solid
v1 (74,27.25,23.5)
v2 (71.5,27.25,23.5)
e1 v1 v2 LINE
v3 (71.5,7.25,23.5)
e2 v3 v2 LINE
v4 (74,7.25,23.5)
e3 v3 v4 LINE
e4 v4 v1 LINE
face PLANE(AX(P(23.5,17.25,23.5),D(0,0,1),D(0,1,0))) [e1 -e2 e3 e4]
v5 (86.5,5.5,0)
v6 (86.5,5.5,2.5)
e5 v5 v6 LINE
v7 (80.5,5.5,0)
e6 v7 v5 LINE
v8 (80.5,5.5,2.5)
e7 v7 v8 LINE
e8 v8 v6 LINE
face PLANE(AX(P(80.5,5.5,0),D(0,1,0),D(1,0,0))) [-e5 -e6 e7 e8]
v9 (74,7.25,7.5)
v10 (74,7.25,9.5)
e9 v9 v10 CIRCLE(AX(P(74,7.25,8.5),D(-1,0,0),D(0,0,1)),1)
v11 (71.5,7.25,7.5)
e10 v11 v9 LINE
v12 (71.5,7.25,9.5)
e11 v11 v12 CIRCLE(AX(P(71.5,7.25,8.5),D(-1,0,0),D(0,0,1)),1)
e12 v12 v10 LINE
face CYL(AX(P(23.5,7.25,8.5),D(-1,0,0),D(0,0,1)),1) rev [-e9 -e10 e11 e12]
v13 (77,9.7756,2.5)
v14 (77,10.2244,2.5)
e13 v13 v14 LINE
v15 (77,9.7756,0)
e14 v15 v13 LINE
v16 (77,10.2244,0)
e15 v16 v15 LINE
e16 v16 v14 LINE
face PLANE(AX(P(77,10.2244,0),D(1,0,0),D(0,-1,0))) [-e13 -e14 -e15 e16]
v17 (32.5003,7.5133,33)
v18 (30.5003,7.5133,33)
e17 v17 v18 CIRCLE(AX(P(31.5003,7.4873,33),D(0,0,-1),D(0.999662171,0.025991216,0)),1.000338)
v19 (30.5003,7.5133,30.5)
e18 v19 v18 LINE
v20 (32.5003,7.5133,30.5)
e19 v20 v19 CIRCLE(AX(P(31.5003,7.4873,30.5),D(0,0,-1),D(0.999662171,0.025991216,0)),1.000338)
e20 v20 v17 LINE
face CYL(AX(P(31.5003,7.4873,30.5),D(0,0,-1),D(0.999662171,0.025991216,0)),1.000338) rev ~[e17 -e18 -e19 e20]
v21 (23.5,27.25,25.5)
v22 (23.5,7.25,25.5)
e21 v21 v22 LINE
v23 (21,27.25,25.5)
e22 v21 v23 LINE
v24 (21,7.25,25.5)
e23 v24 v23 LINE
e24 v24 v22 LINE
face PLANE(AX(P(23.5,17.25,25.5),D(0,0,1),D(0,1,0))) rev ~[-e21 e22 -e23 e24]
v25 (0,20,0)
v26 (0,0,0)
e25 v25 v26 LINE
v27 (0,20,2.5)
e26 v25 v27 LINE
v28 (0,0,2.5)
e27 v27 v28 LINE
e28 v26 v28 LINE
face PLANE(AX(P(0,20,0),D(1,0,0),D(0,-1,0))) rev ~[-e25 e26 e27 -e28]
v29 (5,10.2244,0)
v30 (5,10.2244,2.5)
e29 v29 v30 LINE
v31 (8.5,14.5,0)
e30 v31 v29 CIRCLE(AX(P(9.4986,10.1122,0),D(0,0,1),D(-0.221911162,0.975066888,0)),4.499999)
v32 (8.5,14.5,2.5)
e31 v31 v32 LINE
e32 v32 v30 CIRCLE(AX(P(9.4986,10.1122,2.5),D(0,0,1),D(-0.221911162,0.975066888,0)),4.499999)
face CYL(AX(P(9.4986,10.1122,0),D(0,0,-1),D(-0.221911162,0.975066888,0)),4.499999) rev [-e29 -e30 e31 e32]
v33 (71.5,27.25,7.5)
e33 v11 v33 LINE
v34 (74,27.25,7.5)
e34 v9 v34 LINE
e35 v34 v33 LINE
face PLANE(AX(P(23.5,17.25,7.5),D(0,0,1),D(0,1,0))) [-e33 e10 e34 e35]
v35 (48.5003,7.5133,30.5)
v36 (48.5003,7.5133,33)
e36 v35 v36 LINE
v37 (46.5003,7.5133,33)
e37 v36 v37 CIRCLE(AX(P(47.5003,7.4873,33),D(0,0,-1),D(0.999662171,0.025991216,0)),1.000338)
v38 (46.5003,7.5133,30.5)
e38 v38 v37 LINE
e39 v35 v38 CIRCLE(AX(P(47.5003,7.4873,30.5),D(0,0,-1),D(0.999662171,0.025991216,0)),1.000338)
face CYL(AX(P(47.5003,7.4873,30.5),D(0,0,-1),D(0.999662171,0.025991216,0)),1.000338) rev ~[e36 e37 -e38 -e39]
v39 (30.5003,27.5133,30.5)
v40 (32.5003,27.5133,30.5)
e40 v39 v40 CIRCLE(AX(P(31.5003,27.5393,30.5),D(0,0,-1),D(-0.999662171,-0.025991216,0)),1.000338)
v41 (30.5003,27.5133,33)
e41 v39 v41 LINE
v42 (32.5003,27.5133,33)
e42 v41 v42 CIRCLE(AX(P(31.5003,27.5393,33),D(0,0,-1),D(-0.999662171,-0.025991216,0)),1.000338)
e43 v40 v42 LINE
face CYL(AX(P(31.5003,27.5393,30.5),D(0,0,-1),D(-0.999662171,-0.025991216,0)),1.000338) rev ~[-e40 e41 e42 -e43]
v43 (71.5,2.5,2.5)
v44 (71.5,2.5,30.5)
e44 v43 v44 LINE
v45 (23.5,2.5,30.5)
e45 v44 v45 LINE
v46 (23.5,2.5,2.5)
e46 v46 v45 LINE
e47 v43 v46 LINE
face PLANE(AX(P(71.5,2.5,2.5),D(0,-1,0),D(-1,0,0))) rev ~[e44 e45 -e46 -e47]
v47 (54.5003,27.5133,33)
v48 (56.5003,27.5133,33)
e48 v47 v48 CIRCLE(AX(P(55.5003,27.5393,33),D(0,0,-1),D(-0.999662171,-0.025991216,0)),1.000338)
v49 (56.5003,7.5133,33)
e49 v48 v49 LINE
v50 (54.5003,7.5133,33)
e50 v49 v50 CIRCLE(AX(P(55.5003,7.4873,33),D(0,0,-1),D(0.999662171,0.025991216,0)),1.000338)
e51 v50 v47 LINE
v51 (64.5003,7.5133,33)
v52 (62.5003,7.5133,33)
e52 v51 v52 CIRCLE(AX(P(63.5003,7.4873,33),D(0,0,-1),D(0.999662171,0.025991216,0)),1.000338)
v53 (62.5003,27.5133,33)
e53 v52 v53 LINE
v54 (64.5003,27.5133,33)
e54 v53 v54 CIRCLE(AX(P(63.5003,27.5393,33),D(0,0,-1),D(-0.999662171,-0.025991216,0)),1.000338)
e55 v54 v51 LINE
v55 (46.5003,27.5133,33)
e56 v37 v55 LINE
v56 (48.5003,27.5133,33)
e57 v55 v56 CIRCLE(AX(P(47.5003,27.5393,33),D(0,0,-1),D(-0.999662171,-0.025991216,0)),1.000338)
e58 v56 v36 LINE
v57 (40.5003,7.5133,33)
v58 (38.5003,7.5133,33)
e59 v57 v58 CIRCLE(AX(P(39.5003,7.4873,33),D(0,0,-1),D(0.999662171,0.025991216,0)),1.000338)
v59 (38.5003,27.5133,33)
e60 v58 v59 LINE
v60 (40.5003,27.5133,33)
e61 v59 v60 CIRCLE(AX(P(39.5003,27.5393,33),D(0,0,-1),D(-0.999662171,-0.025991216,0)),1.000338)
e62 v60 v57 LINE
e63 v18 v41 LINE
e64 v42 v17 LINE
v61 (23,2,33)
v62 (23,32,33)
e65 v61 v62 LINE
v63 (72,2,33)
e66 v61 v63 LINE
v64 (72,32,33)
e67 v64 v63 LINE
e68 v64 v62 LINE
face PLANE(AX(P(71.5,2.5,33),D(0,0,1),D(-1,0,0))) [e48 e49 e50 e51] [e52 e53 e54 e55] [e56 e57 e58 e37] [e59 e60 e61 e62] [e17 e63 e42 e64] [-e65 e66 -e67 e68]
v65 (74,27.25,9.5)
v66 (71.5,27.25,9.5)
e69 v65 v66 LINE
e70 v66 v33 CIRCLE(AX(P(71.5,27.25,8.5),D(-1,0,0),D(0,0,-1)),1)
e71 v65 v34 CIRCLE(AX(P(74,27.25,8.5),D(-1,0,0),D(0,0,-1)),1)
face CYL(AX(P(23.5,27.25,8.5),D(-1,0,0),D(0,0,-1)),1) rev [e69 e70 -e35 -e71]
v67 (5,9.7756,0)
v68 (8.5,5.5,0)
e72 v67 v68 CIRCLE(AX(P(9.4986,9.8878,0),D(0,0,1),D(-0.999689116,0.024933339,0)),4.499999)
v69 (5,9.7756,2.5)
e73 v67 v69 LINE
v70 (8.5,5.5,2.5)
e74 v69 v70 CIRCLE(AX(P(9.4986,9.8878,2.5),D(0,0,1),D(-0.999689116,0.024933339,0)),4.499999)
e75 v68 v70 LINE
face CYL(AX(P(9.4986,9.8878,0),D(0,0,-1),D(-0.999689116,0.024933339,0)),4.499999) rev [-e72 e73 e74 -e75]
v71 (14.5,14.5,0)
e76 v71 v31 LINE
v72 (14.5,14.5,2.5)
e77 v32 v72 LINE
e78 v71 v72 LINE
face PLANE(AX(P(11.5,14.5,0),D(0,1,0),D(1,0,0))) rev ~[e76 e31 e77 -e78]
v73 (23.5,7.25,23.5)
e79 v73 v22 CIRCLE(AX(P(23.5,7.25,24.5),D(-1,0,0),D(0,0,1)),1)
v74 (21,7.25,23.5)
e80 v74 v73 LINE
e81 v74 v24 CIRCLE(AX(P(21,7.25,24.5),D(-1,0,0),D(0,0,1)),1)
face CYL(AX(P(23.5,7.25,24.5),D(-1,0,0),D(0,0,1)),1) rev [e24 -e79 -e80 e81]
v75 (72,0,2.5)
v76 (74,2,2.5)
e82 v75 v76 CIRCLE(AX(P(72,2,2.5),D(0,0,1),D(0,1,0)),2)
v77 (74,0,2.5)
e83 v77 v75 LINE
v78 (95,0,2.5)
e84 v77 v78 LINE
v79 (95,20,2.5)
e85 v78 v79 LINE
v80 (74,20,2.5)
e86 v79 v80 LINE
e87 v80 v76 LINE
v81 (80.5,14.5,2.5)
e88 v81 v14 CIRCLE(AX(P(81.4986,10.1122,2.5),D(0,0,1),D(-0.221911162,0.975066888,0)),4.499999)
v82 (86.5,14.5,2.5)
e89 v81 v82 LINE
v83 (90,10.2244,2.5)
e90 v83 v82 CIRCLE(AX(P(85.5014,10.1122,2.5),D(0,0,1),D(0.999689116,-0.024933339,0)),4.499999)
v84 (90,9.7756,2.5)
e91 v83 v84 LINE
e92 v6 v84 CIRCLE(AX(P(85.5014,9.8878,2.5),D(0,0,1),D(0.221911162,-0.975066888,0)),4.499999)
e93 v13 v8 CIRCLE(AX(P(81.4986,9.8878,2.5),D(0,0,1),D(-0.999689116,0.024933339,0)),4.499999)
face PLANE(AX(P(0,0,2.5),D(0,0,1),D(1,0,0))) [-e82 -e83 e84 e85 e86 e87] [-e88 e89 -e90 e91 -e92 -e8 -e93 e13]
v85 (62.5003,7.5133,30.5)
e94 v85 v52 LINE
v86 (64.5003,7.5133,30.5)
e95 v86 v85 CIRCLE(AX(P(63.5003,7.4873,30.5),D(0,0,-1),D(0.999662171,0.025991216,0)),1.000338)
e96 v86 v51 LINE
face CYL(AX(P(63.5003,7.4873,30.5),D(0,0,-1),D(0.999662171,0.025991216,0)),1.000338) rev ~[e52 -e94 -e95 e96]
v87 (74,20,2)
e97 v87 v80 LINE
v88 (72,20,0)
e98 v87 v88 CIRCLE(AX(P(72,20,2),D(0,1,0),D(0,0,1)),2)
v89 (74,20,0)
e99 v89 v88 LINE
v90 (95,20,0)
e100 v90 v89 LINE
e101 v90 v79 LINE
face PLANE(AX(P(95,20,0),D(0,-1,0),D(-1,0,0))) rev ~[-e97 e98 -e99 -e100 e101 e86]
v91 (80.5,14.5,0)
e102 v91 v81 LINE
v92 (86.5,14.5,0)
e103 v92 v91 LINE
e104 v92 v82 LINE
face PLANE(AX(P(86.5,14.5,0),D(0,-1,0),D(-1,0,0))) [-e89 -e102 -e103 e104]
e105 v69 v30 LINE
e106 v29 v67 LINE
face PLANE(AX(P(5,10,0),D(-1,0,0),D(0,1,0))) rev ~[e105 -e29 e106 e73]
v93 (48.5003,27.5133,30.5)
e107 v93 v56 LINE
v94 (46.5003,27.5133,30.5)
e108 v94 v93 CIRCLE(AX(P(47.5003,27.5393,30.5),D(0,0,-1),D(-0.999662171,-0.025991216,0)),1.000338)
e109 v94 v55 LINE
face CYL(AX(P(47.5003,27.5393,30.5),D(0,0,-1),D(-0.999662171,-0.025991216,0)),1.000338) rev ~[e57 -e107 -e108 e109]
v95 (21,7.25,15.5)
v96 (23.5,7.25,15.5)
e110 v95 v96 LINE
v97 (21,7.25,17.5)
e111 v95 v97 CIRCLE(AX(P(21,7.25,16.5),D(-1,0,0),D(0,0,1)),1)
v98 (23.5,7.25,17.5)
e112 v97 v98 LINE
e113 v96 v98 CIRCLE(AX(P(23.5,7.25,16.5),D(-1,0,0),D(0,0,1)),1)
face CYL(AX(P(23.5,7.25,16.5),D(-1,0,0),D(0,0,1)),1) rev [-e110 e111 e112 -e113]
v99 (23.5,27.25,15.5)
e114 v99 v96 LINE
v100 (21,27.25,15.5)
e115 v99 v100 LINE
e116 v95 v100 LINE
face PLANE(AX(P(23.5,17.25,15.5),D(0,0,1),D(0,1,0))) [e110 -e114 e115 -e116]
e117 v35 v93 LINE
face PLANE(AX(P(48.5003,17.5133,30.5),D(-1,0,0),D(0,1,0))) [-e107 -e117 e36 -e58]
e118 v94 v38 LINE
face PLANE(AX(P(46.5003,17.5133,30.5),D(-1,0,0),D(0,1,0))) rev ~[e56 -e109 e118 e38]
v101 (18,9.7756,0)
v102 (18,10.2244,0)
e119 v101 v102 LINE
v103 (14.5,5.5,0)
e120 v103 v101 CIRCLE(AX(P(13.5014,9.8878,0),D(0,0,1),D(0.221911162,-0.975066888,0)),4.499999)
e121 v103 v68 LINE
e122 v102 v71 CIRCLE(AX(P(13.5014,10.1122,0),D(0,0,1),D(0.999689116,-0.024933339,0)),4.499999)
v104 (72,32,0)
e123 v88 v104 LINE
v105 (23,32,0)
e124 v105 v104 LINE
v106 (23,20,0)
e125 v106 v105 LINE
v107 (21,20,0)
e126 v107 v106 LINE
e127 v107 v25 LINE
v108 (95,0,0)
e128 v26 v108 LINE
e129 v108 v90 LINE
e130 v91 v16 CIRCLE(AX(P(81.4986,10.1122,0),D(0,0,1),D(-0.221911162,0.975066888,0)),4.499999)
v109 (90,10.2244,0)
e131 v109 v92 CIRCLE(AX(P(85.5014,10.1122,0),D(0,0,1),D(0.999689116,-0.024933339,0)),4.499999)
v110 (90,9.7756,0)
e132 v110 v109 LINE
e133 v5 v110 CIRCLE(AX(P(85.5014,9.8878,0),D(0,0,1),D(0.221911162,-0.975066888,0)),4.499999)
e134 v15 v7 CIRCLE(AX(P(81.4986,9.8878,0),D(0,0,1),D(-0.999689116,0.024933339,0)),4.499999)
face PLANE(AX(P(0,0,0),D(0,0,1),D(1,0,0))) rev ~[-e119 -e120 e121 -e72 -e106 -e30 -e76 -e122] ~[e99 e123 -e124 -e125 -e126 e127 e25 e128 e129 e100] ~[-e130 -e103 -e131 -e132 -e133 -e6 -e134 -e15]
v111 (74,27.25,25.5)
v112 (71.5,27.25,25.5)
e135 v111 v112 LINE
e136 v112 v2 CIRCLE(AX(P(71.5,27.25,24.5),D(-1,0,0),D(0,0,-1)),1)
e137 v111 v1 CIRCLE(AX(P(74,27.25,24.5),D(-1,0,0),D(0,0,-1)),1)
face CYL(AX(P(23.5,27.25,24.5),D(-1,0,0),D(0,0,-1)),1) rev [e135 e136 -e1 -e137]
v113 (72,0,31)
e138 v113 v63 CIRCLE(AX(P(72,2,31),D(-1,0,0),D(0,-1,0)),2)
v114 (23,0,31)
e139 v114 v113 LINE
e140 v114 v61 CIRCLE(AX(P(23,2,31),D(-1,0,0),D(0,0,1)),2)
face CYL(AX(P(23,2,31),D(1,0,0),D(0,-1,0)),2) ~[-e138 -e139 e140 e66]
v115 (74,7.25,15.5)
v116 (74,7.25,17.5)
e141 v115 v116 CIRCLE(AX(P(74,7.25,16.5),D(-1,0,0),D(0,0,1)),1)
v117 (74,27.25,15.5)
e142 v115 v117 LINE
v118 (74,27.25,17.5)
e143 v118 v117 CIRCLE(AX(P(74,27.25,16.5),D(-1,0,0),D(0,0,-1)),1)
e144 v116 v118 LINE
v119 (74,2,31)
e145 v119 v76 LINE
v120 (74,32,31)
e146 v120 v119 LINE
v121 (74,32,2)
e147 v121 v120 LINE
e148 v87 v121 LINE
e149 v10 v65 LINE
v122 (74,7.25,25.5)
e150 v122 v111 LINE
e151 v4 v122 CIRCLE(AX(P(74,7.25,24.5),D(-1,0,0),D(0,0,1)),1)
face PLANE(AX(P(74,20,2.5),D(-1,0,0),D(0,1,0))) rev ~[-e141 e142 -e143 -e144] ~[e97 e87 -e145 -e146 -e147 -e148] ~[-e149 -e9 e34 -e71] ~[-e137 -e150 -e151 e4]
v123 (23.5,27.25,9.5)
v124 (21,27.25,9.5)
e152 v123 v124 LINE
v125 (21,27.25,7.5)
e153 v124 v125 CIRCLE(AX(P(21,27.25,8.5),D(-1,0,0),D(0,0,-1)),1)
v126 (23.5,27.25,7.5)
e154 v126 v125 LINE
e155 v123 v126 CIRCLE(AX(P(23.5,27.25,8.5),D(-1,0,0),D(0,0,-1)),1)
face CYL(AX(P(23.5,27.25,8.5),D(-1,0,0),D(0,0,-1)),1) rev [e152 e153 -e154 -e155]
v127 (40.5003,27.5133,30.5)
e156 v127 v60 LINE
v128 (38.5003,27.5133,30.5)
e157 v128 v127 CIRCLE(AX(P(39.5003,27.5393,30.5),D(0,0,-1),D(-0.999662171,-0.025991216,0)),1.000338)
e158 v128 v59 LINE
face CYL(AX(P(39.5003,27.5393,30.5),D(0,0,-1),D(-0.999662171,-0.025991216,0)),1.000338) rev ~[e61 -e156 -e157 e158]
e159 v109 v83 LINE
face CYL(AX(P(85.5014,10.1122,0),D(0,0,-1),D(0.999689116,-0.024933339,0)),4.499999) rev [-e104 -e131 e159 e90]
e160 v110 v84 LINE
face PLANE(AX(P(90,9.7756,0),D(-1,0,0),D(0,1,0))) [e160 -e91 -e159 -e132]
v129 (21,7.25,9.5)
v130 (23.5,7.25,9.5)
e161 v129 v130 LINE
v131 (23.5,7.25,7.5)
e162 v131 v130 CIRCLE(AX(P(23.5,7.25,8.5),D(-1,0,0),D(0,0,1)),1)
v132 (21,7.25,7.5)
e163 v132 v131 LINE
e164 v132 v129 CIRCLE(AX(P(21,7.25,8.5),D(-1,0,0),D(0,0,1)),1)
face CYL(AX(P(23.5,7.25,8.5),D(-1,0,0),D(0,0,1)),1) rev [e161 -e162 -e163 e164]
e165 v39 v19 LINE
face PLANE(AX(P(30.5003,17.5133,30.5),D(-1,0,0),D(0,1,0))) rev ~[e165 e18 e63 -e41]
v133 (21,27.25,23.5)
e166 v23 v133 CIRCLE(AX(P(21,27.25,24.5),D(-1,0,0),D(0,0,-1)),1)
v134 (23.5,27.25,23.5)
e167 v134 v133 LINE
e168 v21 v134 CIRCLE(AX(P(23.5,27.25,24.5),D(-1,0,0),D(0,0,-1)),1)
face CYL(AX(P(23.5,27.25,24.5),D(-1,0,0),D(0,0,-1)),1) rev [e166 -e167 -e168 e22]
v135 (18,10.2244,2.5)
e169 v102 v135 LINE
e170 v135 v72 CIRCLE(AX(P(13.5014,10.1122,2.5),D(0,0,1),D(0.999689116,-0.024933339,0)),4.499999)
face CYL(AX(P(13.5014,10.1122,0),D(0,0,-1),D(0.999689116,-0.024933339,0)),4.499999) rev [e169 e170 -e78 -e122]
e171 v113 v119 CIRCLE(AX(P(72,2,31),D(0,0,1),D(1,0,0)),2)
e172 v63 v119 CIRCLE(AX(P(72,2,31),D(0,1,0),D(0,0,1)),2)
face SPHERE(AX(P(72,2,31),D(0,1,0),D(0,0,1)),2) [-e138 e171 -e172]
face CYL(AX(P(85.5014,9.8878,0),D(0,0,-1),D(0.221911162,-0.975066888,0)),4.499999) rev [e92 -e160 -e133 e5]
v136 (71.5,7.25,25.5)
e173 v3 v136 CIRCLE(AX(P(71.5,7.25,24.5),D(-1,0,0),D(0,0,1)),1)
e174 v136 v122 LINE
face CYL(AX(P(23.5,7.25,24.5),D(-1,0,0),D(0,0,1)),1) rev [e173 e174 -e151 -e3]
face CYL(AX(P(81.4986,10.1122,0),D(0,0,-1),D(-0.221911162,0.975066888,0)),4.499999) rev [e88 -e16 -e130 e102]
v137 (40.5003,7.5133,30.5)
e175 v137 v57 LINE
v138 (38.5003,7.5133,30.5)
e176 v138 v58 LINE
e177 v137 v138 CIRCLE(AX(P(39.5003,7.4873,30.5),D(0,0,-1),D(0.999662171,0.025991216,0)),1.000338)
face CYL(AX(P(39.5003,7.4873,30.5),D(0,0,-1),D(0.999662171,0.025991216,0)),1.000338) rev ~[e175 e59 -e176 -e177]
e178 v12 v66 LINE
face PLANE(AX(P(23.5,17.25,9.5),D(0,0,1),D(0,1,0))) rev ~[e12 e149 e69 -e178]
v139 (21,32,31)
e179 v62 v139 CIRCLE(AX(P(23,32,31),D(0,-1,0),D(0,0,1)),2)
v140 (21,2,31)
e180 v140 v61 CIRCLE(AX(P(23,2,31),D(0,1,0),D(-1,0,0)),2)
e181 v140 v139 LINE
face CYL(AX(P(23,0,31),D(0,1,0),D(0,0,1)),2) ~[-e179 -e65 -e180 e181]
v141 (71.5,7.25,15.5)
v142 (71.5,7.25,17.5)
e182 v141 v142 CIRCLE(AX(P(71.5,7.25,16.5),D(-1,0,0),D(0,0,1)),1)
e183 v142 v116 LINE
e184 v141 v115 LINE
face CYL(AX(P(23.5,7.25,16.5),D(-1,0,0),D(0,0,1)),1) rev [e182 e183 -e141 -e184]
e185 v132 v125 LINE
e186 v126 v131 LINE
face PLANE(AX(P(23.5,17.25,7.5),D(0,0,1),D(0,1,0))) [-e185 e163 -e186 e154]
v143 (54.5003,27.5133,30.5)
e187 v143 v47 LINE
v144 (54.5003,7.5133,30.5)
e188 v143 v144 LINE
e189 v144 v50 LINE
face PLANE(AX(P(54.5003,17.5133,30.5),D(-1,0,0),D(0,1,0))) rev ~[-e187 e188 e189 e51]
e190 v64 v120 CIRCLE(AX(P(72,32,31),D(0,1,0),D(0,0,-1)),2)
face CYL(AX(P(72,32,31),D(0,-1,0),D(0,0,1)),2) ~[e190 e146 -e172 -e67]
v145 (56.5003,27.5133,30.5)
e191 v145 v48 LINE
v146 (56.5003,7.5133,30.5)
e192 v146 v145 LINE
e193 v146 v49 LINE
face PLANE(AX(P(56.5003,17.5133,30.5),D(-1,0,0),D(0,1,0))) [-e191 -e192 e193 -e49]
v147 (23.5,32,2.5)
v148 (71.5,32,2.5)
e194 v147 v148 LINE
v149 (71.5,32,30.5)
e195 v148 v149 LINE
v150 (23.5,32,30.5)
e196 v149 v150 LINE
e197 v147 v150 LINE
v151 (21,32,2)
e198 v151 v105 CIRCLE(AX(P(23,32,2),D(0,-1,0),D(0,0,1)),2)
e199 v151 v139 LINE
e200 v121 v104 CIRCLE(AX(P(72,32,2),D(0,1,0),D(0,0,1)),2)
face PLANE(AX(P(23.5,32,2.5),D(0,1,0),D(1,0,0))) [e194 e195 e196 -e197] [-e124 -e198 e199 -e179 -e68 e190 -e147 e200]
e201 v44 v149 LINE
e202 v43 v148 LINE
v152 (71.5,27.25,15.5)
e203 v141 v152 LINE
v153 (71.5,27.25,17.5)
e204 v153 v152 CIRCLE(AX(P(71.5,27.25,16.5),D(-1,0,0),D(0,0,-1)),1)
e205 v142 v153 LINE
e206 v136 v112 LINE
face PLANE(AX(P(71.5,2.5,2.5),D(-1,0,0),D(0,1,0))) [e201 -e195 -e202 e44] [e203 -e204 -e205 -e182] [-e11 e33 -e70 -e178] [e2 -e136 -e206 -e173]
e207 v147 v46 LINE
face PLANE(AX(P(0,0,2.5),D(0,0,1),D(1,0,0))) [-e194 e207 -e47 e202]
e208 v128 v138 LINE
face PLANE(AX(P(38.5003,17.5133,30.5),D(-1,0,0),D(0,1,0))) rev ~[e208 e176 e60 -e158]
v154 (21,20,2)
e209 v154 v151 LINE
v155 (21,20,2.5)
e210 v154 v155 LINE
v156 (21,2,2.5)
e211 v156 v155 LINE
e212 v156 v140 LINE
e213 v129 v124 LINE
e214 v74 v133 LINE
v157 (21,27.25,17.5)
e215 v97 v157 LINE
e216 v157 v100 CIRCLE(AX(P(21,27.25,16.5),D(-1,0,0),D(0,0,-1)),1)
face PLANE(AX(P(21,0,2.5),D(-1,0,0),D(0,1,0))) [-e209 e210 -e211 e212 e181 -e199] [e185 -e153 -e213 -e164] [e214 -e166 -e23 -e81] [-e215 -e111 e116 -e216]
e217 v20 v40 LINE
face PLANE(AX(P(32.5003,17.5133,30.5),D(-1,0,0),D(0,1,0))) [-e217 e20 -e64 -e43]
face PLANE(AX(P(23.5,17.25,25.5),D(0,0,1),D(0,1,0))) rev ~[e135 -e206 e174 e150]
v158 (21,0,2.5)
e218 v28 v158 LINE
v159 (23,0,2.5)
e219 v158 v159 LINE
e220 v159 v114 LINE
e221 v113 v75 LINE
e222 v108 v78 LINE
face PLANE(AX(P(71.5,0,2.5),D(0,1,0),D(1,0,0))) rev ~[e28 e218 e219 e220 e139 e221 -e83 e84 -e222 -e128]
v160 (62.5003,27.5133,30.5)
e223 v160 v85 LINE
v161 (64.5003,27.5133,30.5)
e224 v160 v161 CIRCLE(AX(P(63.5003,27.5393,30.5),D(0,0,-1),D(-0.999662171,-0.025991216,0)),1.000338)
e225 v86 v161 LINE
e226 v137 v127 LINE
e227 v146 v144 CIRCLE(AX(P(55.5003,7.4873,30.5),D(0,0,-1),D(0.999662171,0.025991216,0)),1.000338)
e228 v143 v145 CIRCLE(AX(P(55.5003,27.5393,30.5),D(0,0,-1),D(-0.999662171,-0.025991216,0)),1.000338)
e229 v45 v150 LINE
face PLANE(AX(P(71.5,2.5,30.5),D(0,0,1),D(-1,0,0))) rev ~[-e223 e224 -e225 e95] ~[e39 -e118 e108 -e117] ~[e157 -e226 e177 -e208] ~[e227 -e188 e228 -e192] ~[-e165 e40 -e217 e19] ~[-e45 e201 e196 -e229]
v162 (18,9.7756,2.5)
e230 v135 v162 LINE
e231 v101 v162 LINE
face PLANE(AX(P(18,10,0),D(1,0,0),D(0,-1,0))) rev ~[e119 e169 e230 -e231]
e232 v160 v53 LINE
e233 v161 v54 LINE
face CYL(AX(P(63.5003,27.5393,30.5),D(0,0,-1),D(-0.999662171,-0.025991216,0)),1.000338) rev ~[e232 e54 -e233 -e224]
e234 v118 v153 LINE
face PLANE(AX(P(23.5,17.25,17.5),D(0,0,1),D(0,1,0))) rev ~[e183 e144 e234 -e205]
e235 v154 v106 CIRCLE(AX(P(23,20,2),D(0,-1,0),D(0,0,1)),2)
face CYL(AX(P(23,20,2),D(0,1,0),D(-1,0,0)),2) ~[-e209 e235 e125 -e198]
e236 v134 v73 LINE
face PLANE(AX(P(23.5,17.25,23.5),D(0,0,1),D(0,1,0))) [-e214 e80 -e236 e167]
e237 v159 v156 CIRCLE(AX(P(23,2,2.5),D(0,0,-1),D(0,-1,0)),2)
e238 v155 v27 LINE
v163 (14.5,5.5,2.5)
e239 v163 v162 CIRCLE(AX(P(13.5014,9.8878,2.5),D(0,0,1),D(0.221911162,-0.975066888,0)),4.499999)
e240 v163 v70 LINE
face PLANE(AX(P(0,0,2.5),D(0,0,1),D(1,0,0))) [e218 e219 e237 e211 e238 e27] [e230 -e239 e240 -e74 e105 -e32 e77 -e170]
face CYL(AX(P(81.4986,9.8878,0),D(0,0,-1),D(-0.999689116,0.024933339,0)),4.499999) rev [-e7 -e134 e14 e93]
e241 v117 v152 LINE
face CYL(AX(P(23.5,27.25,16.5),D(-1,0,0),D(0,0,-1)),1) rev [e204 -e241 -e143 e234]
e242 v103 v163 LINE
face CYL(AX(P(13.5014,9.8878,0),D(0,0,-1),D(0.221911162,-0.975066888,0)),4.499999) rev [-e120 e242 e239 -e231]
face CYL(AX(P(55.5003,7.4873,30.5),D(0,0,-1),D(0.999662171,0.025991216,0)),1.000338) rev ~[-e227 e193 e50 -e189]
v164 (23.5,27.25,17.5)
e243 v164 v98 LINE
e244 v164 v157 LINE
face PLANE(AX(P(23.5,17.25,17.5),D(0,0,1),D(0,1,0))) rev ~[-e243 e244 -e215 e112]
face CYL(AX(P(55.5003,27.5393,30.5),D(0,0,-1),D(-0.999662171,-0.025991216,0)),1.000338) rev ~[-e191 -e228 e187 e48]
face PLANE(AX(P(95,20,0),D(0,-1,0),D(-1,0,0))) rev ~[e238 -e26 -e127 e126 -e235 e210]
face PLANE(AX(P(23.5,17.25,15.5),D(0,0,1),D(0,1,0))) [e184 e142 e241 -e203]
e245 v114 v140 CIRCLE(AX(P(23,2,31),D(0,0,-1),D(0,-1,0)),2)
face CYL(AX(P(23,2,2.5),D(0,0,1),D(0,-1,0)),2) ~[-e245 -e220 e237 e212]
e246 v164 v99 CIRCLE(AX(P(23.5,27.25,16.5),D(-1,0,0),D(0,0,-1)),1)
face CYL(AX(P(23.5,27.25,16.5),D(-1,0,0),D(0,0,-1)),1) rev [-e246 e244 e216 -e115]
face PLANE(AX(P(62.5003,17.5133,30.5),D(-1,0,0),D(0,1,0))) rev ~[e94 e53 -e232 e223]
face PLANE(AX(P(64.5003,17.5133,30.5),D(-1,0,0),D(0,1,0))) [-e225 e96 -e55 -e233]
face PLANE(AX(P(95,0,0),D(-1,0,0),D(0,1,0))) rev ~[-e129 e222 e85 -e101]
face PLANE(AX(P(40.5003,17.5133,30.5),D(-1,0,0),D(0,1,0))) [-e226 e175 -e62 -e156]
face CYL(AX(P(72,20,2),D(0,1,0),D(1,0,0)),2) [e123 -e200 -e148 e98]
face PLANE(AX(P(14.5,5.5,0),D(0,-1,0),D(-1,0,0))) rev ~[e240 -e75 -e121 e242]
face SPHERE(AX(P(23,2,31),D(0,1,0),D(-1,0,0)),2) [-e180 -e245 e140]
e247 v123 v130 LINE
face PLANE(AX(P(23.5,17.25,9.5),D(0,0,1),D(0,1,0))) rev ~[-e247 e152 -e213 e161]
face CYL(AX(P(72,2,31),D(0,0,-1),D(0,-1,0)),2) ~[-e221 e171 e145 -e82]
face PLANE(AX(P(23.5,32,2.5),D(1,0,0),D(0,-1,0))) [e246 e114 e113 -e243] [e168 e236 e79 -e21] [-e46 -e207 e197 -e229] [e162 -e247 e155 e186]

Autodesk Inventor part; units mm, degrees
ref_plane "YZ Plane" through (0, 0, 0) normal (1, 0, 0) x (0, 1, 0)
ref_plane "XZ Plane" through (0, 0, 0) normal (0, 1, 0) x (-1, 0, 0)
ref_plane "XY Plane" through (0, 0, 0) normal (0, 0, 1) x (1, 0, 0)
sketch "Sketch1" plane through (0, 0, 0) normal (0, 0, 1) x (1, 0, 0)
  line L0 (0, 0) -> (95, 0)
  line L1 (95, 0) -> (95, 20)
  line L2 (95, 20) -> (0, 20)
  line L3 (0, 20) -> (0, 0)
  line L4 (8.5, 14.5) -> (14.5, 14.5)
  line L5 (18, 10.2244) -> (18, 9.7756)
  line L6 (14.5, 5.5) -> (8.5, 5.5)
  line L7 (5, 9.7756) -> (5, 10.2244)
  line L8 (11.5, 14.5) -> (8.5, 14.5)
  arc A0 (8.5, 14.5) -> (5, 10) centre (9.4986, 10.1122) ccw
  arc A1 (5, 10) -> (8.5, 5.5) centre (9.4986, 9.8878) ccw
  arc A2 (18, 10) -> (14.5, 14.5) centre (13.5014, 10.1122) ccw
  arc A3 (14.5, 5.5) -> (18, 10) centre (13.5014, 9.8878) ccw
  line L9 (86.5, 14.5) -> (80.5, 14.5)
  line L10 (77, 10.2244) -> (77, 9.7756)
  line L11 (80.5, 5.5) -> (86.5, 5.5)
  line L12 (90, 9.7756) -> (90, 10.2244)
  line L13 (83.5, 14.5) -> (86.5, 14.5)
  arc A4 (90, 10) -> (86.5, 14.5) centre (85.5014, 10.1122) ccw
  arc A5 (86.5, 5.5) -> (90, 10) centre (85.5014, 9.8878) ccw
  arc A6 (80.5, 14.5) -> (77, 10) centre (81.4986, 10.1122) ccw
  arc A7 (77, 10) -> (80.5, 5.5) centre (81.4986, 9.8878) ccw
  point P0 (47.5, 10)
  point P1 (11.5, 10)
  point P2 (83.5, 10)
  dimension "d0" = 95
  dimension "d1" = 20
extrude "Extrusion1" add sketch "Sketch1" along normal blind 2.5
sketch "Sketch2" plane through (0, 20, 0) normal (0, 1, 0) x (1, 0, 0)
  line L0 (0, 0) -> (95, 0) projected
  line L1 (47.5, 0) -> (21, 0)
  line L2 (47.5, 0) -> (74, 0) construction
  line L3 (47.5, 0) -> (74, 0)
  line L4 (47.5, 0) -> (74, 0) construction
  line L5 (74, 0) -> (74, -2.5)
  line L6 (0, -2.5) -> (95, -2.5) projected
  line L7 (21, 0) -> (21, -2.5)
  line L8 (21, -2.5) -> (74, -2.5)
extrude "Extrusion2" add sketch "Sketch2" along normal blind 12
sketch "Sketch3" plane through (0, 0, 2.5) normal (0, 0, 1) x (1, 0, 0)
  line L0 (74, 32) -> (21, 32) projected
  line L1 (0, 0) -> (95, 0) projected
  line L2 (21, 32) -> (23.5, 32)
  line L3 (23.5, 32) -> (23.5, 2.5)
  line L4 (23.5, 0) -> (21, 0)
  line L5 (21, 0) -> (21, 32)
  line L6 (74, 20) -> (74, 32) projected
  line L7 (74, 20) -> (74, 0)
  line L8 (74, 0) -> (71.5, 0)
  line L9 (71.5, 2.5) -> (71.5, 32)
  line L10 (71.5, 32) -> (74, 32)
  line L11 (74, 32) -> (74, 0)
  line L12 (23.5, 0) -> (71.5, 0)
  line L13 (71.5, 2.5) -> (23.5, 2.5)
extrude "Extrusion3" add sketch "Sketch3" along normal blind 30.5 contours L6 L7 L1 L5 L0 L3 L13 L9
sketch "Sketch4" plane through (23.5, 2.5, 2.5) normal (0, 1, 0) x (1, 0, 0)
  line L0 (48, -30.5) -> (0, -30.5) projected
  line L1 (48, 0) -> (48, -30.5) projected
  line L2 (0, -30.5) -> (48, -30.5)
  line L3 (48, -30.5) -> (48, -28)
  line L4 (48, -28) -> (0, -28)
  line L5 (0, -28) -> (0, -30.5)
  point P0 (-23.5, 2.5)
  dimension "d24" = 2.5
extrude "Extrusion4" add sketch "Sketch4" along normal up to surface (29.5 mm away)
sketch "Sketch5" plane through (23.5, 2.5, 2.5) normal (1, 0, 0) x (0, 0, -1)
  line L0 (0, 0) -> (-28, 0) projected
  line L1 (-14, 0) -> (-14, 29.5)
  line L2 (0, 29.5) -> (-28, 29.5) projected
  line L3 (-15, 14.75) -> (-15, 24.75)
  line L4 (-15, 14.75) -> (-15, 4.75)
  line L5 (-13, 14.75) -> (-13, 4.75)
  line L6 (-13, 14.75) -> (-13, 24.75)
  arc A0 (-13, 24.75) -> (-15, 24.75) centre (-14, 24.75) ccw
  arc A1 (-15, 4.75) -> (-13, 4.75) centre (-14, 4.75) ccw
  line L7 (-14, 14.75) -> (-14, 15.75)
  line L8 (-15, 14.75) -> (-13, 14.75)
  line L9 (-23, 14.75) -> (-23, 24.75)
  line L10 (-21, 14.75) -> (-21, 24.75)
  line L11 (-21, 14.75) -> (-21, 4.75)
  line L12 (-23, 14.75) -> (-23, 4.75)
  arc A2 (-23, 4.75) -> (-21, 4.75) centre (-22, 4.75) ccw
  arc A3 (-21, 24.75) -> (-23, 24.75) centre (-22, 24.75) ccw
  line L13 (-6, 14.75) -> (-6, 15.75)
  line L14 (-7, 14.75) -> (-7, 4.75)
  line L15 (-5, 14.75) -> (-5, 4.75)
  arc A4 (-7, 4.75) -> (-5, 4.75) centre (-6, 4.75) ccw
  line L16 (-7, 14.75) -> (-7, 24.75)
  line L17 (-5, 14.75) -> (-5, 24.75)
  arc A5 (-5, 24.75) -> (-7, 24.75) centre (-6, 24.75) ccw
  point P0 (2.5, -2.5)
  dimension "d38" = 8
  dimension "d45" = 8
extrude "Extrusion5" cut sketch "Sketch5" along normal through all both and the other way through all
sketch "Sketch8" plane through (71.5, 2.5, 30.5) normal (0, 0, -1) x (-1, 0, 0)
  line L0 (-2.5, 29.5) -> (50.5, 29.5) projected
  line L1 (48, 0) -> (0, 0) projected
  line L2 (24, 29.5) -> (53.5, 29.5) construction
  line L3 (23.9997, 15.0133) -> (24.9997, 15.0133) construction
  line L4 (22.9997, 15.0133) -> (22.9997, 25.0133)
  line L5 (22.9997, 15.0133) -> (22.9997, 5.0133)
  line L6 (24.9997, 15.0133) -> (24.9997, 5.0133)
  line L7 (24.9997, 15.0133) -> (24.9997, 25.0133)
  arc A0 (24.9997, 25.0133) -> (22.9997, 25.0133) centre (23.9997, 25.0393) ccw
  arc A1 (22.9997, 5.0133) -> (24.9997, 5.0133) centre (23.9997, 4.9873) ccw
  line L8 (30.9997, 15.0133) -> (30.9997, 25.0133)
  line L9 (30.9997, 15.0133) -> (30.9997, 5.0133)
  line L10 (32.9997, 15.0133) -> (32.9997, 5.0133)
  line L11 (32.9997, 15.0133) -> (32.9997, 25.0133)
  arc A2 (32.9997, 25.0133) -> (30.9997, 25.0133) centre (31.9997, 25.0393) ccw
  arc A3 (30.9997, 5.0133) -> (32.9997, 5.0133) centre (31.9997, 4.9873) ccw
  line L12 (38.9997, 15.0133) -> (38.9997, 25.0133)
  line L13 (38.9997, 15.0133) -> (38.9997, 5.0133)
  line L14 (40.9997, 15.0133) -> (40.9997, 5.0133)
  line L15 (40.9997, 15.0133) -> (40.9997, 25.0133)
  arc A4 (40.9997, 25.0133) -> (38.9997, 25.0133) centre (39.9997, 25.0393) ccw
  arc A5 (38.9997, 5.0133) -> (40.9997, 5.0133) centre (39.9997, 4.9873) ccw
  line L16 (14.9997, 15.0133) -> (14.9997, 25.0133)
  line L17 (16.9997, 15.0133) -> (16.9997, 25.0133)
  arc A6 (16.9997, 25.0133) -> (14.9997, 25.0133) centre (15.9997, 25.0393) ccw
  line L18 (14.9997, 15.0133) -> (14.9997, 5.0133)
  line L19 (16.9997, 15.0133) -> (16.9997, 5.0133)
  arc A7 (14.9997, 5.0133) -> (16.9997, 5.0133) centre (15.9997, 4.9873) ccw
  line L20 (6.9997, 15.0133) -> (6.9997, 25.0133)
  line L21 (8.9997, 15.0133) -> (8.9997, 25.0133)
  arc A8 (8.9997, 25.0133) -> (6.9997, 25.0133) centre (7.9997, 25.0393) ccw
  line L22 (6.9997, 15.0133) -> (6.9997, 5.0133)
  line L23 (8.9997, 15.0133) -> (8.9997, 5.0133)
  arc A9 (6.9997, 5.0133) -> (8.9997, 5.0133) centre (7.9997, 4.9873) ccw
  point P0 (71.5, -2.5)
  point P1 (31.9997, 15.0133)
  point P2 (39.9997, 15.0133)
  point P3 (15.9997, 15.0133)
  point P4 (22.9997, 25.0133)
  point P5 (24.9997, 25.0133)
  point P6 (7.9997, 15.0133)
  point P7 (14.9997, 25.0133)
  point P8 (15.9997, 25.0393)
  dimension "d64" = 8
  dimension "d71" = 8
extrude "Extrusion6" cut sketch "Sketch8" against normal up to surface (2.5 mm away)
fillet "Fillet1" radius 2 4 edges at (74, 16, 33) (21, 16, 33) (74, 26, 0) (21, 26, 0)
fillet "Fillet2" radius 2 5 edges at (73.4142, 0, 32.4142) (74, 0, 16.75) (21.5858, 0, 32.4142) (21, 0, 16.75) (47.5, 0, 33)
properties part number "SCDHolder3"
